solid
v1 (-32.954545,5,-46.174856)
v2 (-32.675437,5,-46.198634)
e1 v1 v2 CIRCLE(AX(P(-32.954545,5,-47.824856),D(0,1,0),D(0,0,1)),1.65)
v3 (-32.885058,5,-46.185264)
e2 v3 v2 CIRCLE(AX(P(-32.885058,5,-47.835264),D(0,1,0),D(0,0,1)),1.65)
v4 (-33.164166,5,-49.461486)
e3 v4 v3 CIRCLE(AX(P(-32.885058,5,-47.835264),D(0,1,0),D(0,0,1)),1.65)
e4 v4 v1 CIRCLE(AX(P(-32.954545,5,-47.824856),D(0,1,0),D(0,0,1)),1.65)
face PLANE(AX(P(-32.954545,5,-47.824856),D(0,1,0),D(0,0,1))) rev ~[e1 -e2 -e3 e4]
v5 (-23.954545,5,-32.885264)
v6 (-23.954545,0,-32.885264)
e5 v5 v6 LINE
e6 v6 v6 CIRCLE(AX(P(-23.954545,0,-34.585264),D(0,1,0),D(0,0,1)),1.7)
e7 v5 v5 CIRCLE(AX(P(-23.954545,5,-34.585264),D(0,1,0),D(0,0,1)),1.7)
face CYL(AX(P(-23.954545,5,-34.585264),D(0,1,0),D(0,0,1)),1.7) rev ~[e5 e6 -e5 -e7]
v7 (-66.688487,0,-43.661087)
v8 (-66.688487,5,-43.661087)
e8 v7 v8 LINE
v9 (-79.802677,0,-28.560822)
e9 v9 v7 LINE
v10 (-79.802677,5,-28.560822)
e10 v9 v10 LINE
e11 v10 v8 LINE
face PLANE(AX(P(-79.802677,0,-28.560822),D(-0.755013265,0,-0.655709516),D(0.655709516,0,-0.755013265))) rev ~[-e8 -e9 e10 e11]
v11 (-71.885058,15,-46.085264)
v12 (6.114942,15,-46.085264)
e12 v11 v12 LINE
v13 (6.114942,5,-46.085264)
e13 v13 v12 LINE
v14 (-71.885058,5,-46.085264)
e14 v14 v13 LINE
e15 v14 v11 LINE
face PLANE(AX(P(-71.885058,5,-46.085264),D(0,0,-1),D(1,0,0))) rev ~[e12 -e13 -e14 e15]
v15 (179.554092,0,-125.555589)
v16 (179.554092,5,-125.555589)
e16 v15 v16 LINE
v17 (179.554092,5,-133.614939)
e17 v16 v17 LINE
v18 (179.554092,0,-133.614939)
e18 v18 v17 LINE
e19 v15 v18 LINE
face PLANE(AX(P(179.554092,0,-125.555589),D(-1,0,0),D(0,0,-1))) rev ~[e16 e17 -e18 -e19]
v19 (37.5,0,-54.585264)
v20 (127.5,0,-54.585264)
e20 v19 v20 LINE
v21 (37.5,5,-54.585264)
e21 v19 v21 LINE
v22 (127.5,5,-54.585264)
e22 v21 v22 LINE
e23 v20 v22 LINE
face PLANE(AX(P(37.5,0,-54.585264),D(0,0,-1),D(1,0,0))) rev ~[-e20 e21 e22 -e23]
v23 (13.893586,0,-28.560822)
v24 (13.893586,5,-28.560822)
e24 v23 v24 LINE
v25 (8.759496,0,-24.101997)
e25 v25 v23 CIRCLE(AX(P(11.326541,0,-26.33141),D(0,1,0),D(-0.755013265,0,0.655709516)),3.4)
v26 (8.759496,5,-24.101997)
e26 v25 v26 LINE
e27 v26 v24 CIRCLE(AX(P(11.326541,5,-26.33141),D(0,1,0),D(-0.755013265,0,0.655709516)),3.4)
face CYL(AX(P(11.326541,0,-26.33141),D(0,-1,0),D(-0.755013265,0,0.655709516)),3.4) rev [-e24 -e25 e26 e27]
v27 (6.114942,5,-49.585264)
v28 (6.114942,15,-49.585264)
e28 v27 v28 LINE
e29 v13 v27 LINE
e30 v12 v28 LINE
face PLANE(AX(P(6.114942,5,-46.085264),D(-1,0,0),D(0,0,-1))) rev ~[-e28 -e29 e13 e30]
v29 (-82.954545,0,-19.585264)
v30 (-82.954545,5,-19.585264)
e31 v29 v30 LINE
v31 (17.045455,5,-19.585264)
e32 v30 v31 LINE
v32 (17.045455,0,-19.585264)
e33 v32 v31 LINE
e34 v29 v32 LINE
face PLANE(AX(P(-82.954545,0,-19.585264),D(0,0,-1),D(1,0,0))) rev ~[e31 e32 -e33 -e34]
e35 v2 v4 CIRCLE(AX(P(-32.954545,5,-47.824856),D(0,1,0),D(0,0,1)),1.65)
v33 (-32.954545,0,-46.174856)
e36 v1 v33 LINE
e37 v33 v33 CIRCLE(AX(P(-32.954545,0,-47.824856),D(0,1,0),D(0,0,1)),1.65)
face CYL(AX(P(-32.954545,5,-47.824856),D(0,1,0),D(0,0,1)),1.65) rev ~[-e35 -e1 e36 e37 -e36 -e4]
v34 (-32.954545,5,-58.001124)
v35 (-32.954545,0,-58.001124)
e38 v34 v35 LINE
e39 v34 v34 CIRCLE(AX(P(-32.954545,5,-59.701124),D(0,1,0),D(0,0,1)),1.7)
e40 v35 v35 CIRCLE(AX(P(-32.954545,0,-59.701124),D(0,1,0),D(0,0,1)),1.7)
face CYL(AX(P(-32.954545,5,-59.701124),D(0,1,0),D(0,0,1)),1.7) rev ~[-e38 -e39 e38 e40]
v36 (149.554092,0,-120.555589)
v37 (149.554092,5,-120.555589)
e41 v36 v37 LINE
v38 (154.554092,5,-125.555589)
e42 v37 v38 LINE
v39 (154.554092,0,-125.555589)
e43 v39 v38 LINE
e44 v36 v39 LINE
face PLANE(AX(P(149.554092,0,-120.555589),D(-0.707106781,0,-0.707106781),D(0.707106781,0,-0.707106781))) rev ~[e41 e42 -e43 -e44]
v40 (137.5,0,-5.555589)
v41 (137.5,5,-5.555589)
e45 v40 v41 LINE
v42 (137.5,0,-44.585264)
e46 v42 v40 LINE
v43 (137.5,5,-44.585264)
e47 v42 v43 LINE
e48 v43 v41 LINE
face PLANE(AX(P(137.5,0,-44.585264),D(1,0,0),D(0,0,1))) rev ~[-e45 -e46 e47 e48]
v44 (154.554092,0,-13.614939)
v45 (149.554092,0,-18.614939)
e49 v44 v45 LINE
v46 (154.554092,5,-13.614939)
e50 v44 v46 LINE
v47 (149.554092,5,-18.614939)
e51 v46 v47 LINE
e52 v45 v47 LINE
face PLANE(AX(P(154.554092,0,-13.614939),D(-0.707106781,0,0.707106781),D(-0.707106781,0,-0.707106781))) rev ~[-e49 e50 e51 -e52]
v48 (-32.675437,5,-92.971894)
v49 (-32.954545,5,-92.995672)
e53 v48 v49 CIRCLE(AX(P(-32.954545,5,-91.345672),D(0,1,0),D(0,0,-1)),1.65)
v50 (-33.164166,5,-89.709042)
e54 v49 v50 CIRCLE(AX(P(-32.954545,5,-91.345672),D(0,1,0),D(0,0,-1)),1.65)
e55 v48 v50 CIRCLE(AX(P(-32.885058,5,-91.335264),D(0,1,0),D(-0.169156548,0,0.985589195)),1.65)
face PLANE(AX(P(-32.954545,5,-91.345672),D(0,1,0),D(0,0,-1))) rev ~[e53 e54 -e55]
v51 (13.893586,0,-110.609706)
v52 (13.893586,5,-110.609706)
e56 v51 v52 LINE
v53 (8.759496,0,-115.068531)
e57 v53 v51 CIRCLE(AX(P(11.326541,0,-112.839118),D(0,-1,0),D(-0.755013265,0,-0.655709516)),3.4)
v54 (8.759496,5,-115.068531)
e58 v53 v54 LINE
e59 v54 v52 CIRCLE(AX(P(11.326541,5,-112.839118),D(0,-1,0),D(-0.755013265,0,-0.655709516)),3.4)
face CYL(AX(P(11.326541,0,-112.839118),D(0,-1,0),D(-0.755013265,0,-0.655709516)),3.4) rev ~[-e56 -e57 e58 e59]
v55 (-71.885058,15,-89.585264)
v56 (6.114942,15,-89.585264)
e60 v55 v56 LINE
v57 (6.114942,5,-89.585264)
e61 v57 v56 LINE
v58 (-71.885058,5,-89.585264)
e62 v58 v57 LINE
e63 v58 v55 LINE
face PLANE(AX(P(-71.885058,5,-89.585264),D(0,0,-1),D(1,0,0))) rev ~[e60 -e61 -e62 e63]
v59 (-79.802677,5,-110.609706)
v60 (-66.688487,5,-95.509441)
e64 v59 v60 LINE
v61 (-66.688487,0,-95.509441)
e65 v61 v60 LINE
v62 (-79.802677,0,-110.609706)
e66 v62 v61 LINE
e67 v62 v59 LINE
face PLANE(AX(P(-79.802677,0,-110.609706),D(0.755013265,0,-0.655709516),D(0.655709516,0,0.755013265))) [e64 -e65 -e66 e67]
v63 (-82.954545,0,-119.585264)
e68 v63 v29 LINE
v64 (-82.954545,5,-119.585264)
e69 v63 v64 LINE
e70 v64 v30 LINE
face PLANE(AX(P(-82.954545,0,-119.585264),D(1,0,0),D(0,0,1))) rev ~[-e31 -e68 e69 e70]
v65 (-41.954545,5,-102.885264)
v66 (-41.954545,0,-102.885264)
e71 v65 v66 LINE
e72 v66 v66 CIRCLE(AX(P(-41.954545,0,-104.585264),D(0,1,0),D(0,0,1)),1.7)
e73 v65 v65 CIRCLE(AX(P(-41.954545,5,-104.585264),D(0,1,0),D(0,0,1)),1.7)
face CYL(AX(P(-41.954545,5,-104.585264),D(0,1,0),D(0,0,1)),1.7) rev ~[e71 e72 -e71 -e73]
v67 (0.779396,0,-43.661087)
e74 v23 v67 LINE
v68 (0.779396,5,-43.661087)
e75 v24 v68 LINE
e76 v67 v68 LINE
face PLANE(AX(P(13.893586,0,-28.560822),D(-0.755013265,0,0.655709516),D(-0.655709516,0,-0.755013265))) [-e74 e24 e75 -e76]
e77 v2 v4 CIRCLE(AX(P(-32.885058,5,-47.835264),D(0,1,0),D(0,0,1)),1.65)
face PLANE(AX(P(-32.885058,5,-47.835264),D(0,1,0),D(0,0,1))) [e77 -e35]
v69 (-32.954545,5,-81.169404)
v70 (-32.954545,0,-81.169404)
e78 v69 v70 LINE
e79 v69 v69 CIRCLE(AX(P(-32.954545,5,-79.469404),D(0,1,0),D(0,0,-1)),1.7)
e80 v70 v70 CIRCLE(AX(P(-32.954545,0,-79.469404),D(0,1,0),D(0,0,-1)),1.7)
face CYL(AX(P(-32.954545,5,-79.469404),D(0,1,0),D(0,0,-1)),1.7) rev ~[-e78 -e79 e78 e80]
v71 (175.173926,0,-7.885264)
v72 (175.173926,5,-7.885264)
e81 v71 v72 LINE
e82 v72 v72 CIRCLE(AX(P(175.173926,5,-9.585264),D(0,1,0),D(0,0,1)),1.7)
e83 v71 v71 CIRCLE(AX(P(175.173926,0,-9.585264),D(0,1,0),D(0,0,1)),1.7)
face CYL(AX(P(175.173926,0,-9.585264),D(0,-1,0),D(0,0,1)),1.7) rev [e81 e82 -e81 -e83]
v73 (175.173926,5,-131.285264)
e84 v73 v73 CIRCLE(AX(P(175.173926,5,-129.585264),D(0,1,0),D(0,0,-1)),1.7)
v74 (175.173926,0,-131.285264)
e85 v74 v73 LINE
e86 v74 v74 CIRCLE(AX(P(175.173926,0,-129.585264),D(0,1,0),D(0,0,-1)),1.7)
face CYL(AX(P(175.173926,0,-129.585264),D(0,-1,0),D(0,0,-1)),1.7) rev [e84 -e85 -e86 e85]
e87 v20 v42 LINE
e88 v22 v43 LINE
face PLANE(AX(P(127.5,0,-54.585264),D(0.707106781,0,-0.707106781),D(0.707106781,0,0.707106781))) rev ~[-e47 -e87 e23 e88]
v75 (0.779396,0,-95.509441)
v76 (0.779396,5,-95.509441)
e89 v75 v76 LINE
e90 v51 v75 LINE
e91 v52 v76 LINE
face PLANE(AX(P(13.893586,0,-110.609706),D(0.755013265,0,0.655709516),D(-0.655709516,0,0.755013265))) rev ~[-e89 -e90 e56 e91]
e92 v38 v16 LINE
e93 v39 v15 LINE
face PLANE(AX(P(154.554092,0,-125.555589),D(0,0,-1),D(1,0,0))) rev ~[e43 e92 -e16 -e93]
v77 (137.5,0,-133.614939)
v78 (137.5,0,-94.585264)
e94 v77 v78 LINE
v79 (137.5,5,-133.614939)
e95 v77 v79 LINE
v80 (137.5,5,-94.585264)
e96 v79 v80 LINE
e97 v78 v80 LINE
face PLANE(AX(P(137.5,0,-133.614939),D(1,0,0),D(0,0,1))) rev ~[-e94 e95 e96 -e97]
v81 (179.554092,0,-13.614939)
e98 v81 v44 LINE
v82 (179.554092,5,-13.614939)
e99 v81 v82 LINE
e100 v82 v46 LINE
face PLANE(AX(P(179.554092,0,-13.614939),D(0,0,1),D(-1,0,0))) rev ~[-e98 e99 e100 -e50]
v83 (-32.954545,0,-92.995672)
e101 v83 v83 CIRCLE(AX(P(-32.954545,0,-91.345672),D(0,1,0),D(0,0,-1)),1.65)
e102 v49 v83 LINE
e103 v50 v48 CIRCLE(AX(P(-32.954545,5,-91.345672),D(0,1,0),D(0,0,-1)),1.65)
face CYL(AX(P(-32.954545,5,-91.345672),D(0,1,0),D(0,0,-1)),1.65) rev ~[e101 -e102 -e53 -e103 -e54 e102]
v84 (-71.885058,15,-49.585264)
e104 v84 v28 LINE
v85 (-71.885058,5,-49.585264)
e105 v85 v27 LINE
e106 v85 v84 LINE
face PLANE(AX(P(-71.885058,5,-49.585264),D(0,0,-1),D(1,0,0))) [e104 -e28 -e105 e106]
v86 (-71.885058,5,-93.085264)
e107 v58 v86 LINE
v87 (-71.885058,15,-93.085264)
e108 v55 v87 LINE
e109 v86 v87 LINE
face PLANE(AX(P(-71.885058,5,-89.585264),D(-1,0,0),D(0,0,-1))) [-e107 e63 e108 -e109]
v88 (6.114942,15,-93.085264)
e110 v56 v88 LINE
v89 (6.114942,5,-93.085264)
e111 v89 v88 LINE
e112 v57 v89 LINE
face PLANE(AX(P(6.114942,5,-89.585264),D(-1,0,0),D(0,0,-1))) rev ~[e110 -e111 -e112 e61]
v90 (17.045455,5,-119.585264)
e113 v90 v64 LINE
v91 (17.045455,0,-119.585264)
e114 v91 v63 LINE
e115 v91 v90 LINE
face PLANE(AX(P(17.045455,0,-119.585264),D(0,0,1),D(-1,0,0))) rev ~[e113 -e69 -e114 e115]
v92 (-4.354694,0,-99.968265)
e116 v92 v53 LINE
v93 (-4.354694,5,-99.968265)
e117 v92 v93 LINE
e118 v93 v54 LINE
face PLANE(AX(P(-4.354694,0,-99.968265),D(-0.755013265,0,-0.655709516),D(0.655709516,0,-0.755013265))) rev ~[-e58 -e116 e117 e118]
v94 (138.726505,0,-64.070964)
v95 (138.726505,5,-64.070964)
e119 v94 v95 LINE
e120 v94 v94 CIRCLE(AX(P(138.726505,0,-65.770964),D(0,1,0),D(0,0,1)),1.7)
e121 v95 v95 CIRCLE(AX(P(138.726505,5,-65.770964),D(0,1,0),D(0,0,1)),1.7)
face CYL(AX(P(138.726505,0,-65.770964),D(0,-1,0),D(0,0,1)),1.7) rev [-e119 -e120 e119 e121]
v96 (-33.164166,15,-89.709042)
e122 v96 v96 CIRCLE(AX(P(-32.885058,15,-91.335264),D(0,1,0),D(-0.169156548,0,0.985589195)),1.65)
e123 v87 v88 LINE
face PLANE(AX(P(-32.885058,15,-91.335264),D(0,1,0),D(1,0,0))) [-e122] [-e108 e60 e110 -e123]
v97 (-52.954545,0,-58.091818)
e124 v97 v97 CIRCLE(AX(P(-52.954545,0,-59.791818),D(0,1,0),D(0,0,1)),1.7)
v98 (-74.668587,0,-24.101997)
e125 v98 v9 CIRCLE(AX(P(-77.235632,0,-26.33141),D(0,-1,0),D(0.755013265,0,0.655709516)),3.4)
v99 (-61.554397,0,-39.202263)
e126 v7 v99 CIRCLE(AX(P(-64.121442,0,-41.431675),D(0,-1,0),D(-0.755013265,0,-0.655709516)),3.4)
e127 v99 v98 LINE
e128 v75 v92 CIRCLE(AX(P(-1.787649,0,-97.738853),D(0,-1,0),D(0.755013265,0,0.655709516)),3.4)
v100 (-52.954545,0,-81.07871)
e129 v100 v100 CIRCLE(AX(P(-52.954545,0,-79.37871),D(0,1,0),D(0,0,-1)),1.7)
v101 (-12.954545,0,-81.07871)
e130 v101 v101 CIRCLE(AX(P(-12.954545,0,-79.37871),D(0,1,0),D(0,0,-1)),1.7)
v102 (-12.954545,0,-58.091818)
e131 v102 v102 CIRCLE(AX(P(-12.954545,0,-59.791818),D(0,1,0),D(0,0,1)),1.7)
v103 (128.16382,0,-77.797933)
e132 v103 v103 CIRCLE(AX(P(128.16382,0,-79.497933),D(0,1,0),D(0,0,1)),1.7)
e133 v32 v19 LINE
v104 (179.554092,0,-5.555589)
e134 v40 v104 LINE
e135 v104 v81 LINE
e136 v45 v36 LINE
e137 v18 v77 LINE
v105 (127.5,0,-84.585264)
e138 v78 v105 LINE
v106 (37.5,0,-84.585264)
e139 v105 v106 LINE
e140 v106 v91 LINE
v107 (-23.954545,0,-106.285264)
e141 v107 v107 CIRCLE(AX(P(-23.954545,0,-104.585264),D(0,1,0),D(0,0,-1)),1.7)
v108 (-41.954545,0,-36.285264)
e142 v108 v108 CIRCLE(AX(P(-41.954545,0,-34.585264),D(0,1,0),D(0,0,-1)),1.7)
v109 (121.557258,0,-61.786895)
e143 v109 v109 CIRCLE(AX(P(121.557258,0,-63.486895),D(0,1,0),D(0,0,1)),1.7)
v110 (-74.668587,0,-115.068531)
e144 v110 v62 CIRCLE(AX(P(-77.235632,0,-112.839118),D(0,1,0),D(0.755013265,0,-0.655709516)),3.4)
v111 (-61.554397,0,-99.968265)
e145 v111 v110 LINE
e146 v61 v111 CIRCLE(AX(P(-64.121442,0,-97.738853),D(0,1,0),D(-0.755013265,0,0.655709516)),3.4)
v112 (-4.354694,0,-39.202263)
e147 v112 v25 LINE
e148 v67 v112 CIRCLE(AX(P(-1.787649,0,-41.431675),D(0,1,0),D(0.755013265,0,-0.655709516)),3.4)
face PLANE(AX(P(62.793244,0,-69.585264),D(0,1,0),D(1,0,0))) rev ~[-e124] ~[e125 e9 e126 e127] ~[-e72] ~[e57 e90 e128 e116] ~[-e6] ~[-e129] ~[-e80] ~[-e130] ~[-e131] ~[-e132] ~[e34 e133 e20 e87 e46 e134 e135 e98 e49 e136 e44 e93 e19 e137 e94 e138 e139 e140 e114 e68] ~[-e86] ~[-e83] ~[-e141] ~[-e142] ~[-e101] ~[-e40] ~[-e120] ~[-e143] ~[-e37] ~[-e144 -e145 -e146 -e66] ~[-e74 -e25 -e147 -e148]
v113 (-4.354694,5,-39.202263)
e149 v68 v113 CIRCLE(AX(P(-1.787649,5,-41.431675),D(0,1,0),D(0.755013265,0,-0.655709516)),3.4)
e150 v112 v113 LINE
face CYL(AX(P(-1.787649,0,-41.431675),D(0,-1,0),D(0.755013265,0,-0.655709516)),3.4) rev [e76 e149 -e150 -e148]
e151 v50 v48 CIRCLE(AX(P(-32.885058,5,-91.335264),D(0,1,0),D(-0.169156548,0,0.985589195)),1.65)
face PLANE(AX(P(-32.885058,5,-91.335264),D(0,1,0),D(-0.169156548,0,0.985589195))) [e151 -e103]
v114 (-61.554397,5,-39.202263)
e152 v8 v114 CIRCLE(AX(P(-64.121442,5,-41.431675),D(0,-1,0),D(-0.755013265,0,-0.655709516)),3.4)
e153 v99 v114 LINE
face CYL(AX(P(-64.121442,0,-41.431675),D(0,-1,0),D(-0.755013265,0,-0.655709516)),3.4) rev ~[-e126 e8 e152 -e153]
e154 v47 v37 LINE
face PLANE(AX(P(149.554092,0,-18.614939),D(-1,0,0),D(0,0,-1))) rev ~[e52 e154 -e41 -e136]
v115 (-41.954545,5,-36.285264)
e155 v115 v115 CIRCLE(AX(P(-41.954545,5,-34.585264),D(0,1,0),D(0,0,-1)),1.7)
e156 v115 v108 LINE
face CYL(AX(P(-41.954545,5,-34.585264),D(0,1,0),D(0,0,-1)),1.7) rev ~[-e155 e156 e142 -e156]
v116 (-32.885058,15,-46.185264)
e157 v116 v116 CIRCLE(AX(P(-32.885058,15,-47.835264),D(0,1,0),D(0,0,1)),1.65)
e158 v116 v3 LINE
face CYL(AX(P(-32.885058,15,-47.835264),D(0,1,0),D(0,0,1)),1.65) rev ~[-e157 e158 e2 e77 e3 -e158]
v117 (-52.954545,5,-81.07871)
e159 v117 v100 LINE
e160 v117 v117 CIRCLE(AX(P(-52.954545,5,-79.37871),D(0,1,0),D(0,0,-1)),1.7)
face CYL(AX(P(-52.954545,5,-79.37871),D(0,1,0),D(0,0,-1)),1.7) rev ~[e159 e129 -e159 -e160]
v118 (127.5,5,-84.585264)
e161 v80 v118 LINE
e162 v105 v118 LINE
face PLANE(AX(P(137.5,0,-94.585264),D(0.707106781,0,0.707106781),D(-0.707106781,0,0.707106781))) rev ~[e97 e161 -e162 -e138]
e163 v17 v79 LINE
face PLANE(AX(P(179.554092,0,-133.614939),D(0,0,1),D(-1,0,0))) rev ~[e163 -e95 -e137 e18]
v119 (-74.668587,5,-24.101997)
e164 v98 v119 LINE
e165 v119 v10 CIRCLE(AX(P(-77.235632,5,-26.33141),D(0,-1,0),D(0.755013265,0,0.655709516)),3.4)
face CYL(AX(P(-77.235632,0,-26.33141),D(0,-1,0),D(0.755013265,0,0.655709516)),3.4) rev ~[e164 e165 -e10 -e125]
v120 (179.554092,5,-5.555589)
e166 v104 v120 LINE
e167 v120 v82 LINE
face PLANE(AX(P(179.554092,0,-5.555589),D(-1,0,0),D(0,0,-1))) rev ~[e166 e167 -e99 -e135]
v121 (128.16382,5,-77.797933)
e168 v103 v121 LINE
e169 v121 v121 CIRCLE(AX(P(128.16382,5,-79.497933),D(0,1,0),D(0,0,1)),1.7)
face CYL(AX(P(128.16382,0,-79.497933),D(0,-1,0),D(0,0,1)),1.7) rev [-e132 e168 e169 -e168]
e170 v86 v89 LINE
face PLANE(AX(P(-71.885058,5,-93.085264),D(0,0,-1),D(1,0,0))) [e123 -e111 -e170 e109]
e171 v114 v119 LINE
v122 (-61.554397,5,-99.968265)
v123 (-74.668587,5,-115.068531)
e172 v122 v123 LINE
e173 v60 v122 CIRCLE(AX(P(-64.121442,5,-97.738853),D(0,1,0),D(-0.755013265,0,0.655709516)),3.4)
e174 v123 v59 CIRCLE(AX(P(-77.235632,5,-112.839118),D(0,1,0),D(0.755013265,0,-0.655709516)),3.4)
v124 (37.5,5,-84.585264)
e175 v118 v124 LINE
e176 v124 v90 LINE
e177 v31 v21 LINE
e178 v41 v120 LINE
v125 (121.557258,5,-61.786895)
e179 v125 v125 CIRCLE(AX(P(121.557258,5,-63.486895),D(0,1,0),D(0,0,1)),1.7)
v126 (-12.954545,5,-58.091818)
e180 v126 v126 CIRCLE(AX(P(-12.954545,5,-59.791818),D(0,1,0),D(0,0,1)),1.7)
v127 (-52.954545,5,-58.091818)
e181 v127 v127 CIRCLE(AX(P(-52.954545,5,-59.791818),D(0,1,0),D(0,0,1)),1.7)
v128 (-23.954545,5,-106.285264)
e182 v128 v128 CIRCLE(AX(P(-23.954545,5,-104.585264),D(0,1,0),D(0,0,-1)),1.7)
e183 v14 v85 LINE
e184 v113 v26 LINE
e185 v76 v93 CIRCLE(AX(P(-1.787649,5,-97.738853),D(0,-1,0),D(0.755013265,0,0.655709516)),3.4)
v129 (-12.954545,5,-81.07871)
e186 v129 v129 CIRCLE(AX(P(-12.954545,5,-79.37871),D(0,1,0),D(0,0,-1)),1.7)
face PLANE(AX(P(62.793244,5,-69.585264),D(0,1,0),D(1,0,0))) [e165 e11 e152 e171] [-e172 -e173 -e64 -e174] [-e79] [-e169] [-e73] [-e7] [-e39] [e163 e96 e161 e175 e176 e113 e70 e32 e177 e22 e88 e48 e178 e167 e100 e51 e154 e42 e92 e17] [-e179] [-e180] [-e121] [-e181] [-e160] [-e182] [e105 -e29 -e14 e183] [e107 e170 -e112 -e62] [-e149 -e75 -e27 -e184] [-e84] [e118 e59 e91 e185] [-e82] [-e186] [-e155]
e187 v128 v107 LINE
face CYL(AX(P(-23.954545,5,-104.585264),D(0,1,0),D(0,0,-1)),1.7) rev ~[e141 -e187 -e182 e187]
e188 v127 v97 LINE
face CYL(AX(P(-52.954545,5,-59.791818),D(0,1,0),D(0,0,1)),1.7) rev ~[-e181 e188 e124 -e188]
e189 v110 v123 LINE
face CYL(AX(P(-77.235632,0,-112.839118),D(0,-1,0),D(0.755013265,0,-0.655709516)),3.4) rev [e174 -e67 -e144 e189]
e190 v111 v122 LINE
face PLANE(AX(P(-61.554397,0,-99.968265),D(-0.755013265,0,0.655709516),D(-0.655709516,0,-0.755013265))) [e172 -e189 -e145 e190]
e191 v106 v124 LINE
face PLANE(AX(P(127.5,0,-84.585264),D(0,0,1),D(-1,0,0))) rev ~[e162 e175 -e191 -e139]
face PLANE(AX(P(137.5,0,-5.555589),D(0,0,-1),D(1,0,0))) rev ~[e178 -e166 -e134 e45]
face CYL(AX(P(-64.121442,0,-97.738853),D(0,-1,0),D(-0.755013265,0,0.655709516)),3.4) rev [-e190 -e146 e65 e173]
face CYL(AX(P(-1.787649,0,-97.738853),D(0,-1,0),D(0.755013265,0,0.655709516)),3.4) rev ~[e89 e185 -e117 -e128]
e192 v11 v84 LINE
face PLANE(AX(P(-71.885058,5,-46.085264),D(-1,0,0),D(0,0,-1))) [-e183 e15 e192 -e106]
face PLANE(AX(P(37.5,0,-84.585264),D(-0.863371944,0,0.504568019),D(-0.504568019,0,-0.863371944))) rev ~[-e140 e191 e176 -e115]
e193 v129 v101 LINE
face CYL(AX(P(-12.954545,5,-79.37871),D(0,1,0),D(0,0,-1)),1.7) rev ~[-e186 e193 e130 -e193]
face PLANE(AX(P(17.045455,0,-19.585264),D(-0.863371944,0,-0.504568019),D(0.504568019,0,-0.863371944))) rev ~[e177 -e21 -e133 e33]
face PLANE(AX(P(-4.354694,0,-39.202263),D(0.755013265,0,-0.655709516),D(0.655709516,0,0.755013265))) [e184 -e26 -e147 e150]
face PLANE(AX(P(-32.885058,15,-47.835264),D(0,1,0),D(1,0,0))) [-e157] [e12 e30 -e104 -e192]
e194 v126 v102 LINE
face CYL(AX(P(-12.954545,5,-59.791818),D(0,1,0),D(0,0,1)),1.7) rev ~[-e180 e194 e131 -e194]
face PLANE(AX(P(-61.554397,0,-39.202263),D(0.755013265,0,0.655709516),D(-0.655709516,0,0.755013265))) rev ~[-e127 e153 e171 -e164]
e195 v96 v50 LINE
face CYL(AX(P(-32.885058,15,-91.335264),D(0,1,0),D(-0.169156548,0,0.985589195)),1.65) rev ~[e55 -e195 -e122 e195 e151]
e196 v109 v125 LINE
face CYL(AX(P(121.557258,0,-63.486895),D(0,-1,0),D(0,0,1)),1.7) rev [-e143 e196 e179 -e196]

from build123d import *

# Parameters (mm, degrees)
SKETCH1_R           = 1.7
BOSS_EXTRUDE3_DEPTH = 5
SKETCH5_W           = 78
SKETCH5_H           = 3.5
BOSS_EXTRUDE4_DEPTH = 10
SKETCH6_R           = 1.65
SKETCH6_R_2         = 1.7
CUT_EXTRUDE5_DEPTH  = 225.037103934
SKETCH8_R           = 1.65
CUT_EXTRUDE6_DEPTH  = 10
SKETCH9_R           = 1.7
CUT_EXTRUDE8_DEPTH  = 225.037103934


with BuildPart() as part:
    # Sketch1 → Boss-Extrude3 (new body)
    with BuildSketch(Plane(origin=(0, 0, 0), x_dir=(1, 0, 0), z_dir=(0, 1, 0))):
        Polygon((137.5, 44.585264028), (137.5, 5.555589367), (149.554092402, 5.555589367), (179.554092402, 5.555589367), (179.554092402, 13.614938689), (154.554092402, 13.614938689), (149.554092402, 18.614938689), (149.554092402, 120.555589367), (154.554092402, 125.555589367), (179.554092402, 125.555589367), (179.554092402, 133.614938689), (149.554092402, 133.614938689), (137.5, 133.614938689), (137.5, 94.585264028), (127.5, 84.585264028), (37.5, 84.585264028), (17.045454545, 119.585264028), (-82.954545455, 119.585264028), (-82.954545455, 19.585264028), (17.045454545, 19.585264028), (37.5, 54.585264028), (127.5, 54.585264028), align=None)
        with Locations(Location((138.726505033, 65.770964076, 0), (0, 0, 270))):
            Circle(SKETCH1_R, mode=Mode.SUBTRACT)
        with Locations(Location((121.557258463, 63.486894852, 0), (0, 0, 270))):
            Circle(SKETCH1_R, mode=Mode.SUBTRACT)
        with Locations(Location((128.163819776, 79.497933157, 0), (0, 0, 270))):
            Circle(SKETCH1_R, mode=Mode.SUBTRACT)
        with Locations(Location((175.173925842, 9.585264028, 0), (0, 0, 270))):
            Circle(SKETCH1_R, mode=Mode.SUBTRACT)
        with Locations(Location((175.173925842, 129.585264028, 0), (0, 0, 90))):
            Circle(SKETCH1_R, mode=Mode.SUBTRACT)
        with BuildLine():
            Line((-79.802677261, 28.560822148), (-66.688486942, 43.661087452))
            ThreePointArc((-66.688486942, 43.661087452), (-61.892029486, 43.998720199), (-61.554396738, 39.202262743))
            Line((-61.554396738, 39.202262743), (-74.668587058, 24.101997439))
            ThreePointArc((-74.668587058, 24.101997439), (-79.465044514, 23.764364691), (-79.802677261, 28.560822148))
        make_face(mode=Mode.SUBTRACT)
        with BuildLine():
            Line((-79.802677261, 110.609705909), (-66.688486942, 95.509440605))
            ThreePointArc((-66.688486942, 95.509440605), (-61.892029486, 95.171807858), (-61.554396738, 99.968265314))
            Line((-61.554396738, 99.968265314), (-74.668587058, 115.068530618))
            ThreePointArc((-74.668587058, 115.068530618), (-79.465044514, 115.406163365), (-79.802677261, 110.609705909))
        make_face(mode=Mode.SUBTRACT)
        with BuildLine():
            Line((13.893586352, 110.609705909), (0.779396033, 95.509440605))
            ThreePointArc((0.779396033, 95.509440605), (-4.017061423, 95.171807858), (-4.354694171, 99.968265314))
            Line((-4.354694171, 99.968265314), (8.759496149, 115.068530618))
            ThreePointArc((8.759496149, 115.068530618), (13.555953605, 115.406163365), (13.893586352, 110.609705909))
        make_face(mode=Mode.SUBTRACT)
        with BuildLine():
            Line((13.893586352, 28.560822148), (0.779396033, 43.661087452))
            ThreePointArc((0.779396033, 43.661087452), (-4.017061423, 43.998720199), (-4.354694171, 39.202262743))
            Line((-4.354694171, 39.202262743), (8.759496149, 24.101997439))
            ThreePointArc((8.759496149, 24.101997439), (13.555953605, 23.764364691), (13.893586352, 28.560822148))
        make_face(mode=Mode.SUBTRACT)
    extrude(amount=BOSS_EXTRUDE3_DEPTH)

    # Sketch5 → Boss-Extrude4 (add)
    with BuildSketch(Plane(origin=(0, 5, 0), x_dir=(1, 0, 0), z_dir=(0, 1, 0))):
        with Locations((-32.885058048, 47.835264028)):
            Rectangle(SKETCH5_W, SKETCH5_H)
        with Locations((-32.885058048, 91.335264028)):
            Rectangle(SKETCH5_W, SKETCH5_H)
    extrude(amount=BOSS_EXTRUDE4_DEPTH)

    # Sketch6 → Cut-Extrude5 (cut, through all)
    with BuildSketch(Plane(origin=(0, 5, 0), x_dir=(1, 0, 0), z_dir=(0, 1, 0))):
        with Locations(Location((-32.954545455, 47.824855797, 0), (0, 0, 270))):
            Circle(SKETCH6_R)
        with Locations(Location((-32.954545455, 59.701124199, 0), (0, 0, 270))):
            Circle(SKETCH6_R_2)
        with Locations(Location((-12.954545455, 59.791818088, 0), (0, 0, 270))):
            Circle(SKETCH6_R_2)
        with Locations(Location((-52.954545455, 59.791818088, 0), (0, 0, 270))):
            Circle(SKETCH6_R_2)
        with Locations(Location((-32.954545455, 91.34567226, 0), (0, 0, 90))):
            Circle(SKETCH6_R)
        with Locations(Location((-12.954545455, 79.378709969, 0), (0, 0, 90))):
            Circle(SKETCH6_R_2)
        with Locations(Location((-32.954545455, 79.469403858, 0), (0, 0, 90))):
            Circle(SKETCH6_R_2)
        with Locations(Location((-52.954545455, 79.378709969, 0), (0, 0, 90))):
            Circle(SKETCH6_R_2)
    extrude(amount=-CUT_EXTRUDE5_DEPTH, mode=Mode.SUBTRACT)

    # Sketch8 → Cut-Extrude6 (cut)
    with BuildSketch(Plane(origin=(0, 15, 0), x_dir=(1, 0, 0), z_dir=(0, 1, 0))):
        with Locations(Location((-32.885058048, 47.835264028, 0), (0, 0, 270))):
            Circle(SKETCH8_R)
        with Locations(Location((-32.885058048, 91.335264028, 0), (0, 0, 260.261217373))):
            Circle(SKETCH8_R)
    extrude(amount=-CUT_EXTRUDE6_DEPTH, mode=Mode.SUBTRACT)

    # Sketch9 → Cut-Extrude8 (cut, through all)
    with BuildSketch(Plane(origin=(0, 5, 0), x_dir=(1, 0, 0), z_dir=(0, 1, 0))):
        with Locations(Location((-23.954545455, 34.585264028, 0), (0, 0, 270))):
            Circle(SKETCH9_R)
        with Locations(Location((-41.954545455, 34.585264028, 0), (0, 0, 90))):
            Circle(SKETCH9_R)
        with Locations(Location((-41.954545455, 104.585264028, 0), (0, 0, 270))):
            Circle(SKETCH9_R)
        with Locations(Location((-23.954545455, 104.585264028, 0), (0, 0, 90))):
            Circle(SKETCH9_R)
    extrude(amount=-CUT_EXTRUDE8_DEPTH, mode=Mode.SUBTRACT)


solid = part.part
